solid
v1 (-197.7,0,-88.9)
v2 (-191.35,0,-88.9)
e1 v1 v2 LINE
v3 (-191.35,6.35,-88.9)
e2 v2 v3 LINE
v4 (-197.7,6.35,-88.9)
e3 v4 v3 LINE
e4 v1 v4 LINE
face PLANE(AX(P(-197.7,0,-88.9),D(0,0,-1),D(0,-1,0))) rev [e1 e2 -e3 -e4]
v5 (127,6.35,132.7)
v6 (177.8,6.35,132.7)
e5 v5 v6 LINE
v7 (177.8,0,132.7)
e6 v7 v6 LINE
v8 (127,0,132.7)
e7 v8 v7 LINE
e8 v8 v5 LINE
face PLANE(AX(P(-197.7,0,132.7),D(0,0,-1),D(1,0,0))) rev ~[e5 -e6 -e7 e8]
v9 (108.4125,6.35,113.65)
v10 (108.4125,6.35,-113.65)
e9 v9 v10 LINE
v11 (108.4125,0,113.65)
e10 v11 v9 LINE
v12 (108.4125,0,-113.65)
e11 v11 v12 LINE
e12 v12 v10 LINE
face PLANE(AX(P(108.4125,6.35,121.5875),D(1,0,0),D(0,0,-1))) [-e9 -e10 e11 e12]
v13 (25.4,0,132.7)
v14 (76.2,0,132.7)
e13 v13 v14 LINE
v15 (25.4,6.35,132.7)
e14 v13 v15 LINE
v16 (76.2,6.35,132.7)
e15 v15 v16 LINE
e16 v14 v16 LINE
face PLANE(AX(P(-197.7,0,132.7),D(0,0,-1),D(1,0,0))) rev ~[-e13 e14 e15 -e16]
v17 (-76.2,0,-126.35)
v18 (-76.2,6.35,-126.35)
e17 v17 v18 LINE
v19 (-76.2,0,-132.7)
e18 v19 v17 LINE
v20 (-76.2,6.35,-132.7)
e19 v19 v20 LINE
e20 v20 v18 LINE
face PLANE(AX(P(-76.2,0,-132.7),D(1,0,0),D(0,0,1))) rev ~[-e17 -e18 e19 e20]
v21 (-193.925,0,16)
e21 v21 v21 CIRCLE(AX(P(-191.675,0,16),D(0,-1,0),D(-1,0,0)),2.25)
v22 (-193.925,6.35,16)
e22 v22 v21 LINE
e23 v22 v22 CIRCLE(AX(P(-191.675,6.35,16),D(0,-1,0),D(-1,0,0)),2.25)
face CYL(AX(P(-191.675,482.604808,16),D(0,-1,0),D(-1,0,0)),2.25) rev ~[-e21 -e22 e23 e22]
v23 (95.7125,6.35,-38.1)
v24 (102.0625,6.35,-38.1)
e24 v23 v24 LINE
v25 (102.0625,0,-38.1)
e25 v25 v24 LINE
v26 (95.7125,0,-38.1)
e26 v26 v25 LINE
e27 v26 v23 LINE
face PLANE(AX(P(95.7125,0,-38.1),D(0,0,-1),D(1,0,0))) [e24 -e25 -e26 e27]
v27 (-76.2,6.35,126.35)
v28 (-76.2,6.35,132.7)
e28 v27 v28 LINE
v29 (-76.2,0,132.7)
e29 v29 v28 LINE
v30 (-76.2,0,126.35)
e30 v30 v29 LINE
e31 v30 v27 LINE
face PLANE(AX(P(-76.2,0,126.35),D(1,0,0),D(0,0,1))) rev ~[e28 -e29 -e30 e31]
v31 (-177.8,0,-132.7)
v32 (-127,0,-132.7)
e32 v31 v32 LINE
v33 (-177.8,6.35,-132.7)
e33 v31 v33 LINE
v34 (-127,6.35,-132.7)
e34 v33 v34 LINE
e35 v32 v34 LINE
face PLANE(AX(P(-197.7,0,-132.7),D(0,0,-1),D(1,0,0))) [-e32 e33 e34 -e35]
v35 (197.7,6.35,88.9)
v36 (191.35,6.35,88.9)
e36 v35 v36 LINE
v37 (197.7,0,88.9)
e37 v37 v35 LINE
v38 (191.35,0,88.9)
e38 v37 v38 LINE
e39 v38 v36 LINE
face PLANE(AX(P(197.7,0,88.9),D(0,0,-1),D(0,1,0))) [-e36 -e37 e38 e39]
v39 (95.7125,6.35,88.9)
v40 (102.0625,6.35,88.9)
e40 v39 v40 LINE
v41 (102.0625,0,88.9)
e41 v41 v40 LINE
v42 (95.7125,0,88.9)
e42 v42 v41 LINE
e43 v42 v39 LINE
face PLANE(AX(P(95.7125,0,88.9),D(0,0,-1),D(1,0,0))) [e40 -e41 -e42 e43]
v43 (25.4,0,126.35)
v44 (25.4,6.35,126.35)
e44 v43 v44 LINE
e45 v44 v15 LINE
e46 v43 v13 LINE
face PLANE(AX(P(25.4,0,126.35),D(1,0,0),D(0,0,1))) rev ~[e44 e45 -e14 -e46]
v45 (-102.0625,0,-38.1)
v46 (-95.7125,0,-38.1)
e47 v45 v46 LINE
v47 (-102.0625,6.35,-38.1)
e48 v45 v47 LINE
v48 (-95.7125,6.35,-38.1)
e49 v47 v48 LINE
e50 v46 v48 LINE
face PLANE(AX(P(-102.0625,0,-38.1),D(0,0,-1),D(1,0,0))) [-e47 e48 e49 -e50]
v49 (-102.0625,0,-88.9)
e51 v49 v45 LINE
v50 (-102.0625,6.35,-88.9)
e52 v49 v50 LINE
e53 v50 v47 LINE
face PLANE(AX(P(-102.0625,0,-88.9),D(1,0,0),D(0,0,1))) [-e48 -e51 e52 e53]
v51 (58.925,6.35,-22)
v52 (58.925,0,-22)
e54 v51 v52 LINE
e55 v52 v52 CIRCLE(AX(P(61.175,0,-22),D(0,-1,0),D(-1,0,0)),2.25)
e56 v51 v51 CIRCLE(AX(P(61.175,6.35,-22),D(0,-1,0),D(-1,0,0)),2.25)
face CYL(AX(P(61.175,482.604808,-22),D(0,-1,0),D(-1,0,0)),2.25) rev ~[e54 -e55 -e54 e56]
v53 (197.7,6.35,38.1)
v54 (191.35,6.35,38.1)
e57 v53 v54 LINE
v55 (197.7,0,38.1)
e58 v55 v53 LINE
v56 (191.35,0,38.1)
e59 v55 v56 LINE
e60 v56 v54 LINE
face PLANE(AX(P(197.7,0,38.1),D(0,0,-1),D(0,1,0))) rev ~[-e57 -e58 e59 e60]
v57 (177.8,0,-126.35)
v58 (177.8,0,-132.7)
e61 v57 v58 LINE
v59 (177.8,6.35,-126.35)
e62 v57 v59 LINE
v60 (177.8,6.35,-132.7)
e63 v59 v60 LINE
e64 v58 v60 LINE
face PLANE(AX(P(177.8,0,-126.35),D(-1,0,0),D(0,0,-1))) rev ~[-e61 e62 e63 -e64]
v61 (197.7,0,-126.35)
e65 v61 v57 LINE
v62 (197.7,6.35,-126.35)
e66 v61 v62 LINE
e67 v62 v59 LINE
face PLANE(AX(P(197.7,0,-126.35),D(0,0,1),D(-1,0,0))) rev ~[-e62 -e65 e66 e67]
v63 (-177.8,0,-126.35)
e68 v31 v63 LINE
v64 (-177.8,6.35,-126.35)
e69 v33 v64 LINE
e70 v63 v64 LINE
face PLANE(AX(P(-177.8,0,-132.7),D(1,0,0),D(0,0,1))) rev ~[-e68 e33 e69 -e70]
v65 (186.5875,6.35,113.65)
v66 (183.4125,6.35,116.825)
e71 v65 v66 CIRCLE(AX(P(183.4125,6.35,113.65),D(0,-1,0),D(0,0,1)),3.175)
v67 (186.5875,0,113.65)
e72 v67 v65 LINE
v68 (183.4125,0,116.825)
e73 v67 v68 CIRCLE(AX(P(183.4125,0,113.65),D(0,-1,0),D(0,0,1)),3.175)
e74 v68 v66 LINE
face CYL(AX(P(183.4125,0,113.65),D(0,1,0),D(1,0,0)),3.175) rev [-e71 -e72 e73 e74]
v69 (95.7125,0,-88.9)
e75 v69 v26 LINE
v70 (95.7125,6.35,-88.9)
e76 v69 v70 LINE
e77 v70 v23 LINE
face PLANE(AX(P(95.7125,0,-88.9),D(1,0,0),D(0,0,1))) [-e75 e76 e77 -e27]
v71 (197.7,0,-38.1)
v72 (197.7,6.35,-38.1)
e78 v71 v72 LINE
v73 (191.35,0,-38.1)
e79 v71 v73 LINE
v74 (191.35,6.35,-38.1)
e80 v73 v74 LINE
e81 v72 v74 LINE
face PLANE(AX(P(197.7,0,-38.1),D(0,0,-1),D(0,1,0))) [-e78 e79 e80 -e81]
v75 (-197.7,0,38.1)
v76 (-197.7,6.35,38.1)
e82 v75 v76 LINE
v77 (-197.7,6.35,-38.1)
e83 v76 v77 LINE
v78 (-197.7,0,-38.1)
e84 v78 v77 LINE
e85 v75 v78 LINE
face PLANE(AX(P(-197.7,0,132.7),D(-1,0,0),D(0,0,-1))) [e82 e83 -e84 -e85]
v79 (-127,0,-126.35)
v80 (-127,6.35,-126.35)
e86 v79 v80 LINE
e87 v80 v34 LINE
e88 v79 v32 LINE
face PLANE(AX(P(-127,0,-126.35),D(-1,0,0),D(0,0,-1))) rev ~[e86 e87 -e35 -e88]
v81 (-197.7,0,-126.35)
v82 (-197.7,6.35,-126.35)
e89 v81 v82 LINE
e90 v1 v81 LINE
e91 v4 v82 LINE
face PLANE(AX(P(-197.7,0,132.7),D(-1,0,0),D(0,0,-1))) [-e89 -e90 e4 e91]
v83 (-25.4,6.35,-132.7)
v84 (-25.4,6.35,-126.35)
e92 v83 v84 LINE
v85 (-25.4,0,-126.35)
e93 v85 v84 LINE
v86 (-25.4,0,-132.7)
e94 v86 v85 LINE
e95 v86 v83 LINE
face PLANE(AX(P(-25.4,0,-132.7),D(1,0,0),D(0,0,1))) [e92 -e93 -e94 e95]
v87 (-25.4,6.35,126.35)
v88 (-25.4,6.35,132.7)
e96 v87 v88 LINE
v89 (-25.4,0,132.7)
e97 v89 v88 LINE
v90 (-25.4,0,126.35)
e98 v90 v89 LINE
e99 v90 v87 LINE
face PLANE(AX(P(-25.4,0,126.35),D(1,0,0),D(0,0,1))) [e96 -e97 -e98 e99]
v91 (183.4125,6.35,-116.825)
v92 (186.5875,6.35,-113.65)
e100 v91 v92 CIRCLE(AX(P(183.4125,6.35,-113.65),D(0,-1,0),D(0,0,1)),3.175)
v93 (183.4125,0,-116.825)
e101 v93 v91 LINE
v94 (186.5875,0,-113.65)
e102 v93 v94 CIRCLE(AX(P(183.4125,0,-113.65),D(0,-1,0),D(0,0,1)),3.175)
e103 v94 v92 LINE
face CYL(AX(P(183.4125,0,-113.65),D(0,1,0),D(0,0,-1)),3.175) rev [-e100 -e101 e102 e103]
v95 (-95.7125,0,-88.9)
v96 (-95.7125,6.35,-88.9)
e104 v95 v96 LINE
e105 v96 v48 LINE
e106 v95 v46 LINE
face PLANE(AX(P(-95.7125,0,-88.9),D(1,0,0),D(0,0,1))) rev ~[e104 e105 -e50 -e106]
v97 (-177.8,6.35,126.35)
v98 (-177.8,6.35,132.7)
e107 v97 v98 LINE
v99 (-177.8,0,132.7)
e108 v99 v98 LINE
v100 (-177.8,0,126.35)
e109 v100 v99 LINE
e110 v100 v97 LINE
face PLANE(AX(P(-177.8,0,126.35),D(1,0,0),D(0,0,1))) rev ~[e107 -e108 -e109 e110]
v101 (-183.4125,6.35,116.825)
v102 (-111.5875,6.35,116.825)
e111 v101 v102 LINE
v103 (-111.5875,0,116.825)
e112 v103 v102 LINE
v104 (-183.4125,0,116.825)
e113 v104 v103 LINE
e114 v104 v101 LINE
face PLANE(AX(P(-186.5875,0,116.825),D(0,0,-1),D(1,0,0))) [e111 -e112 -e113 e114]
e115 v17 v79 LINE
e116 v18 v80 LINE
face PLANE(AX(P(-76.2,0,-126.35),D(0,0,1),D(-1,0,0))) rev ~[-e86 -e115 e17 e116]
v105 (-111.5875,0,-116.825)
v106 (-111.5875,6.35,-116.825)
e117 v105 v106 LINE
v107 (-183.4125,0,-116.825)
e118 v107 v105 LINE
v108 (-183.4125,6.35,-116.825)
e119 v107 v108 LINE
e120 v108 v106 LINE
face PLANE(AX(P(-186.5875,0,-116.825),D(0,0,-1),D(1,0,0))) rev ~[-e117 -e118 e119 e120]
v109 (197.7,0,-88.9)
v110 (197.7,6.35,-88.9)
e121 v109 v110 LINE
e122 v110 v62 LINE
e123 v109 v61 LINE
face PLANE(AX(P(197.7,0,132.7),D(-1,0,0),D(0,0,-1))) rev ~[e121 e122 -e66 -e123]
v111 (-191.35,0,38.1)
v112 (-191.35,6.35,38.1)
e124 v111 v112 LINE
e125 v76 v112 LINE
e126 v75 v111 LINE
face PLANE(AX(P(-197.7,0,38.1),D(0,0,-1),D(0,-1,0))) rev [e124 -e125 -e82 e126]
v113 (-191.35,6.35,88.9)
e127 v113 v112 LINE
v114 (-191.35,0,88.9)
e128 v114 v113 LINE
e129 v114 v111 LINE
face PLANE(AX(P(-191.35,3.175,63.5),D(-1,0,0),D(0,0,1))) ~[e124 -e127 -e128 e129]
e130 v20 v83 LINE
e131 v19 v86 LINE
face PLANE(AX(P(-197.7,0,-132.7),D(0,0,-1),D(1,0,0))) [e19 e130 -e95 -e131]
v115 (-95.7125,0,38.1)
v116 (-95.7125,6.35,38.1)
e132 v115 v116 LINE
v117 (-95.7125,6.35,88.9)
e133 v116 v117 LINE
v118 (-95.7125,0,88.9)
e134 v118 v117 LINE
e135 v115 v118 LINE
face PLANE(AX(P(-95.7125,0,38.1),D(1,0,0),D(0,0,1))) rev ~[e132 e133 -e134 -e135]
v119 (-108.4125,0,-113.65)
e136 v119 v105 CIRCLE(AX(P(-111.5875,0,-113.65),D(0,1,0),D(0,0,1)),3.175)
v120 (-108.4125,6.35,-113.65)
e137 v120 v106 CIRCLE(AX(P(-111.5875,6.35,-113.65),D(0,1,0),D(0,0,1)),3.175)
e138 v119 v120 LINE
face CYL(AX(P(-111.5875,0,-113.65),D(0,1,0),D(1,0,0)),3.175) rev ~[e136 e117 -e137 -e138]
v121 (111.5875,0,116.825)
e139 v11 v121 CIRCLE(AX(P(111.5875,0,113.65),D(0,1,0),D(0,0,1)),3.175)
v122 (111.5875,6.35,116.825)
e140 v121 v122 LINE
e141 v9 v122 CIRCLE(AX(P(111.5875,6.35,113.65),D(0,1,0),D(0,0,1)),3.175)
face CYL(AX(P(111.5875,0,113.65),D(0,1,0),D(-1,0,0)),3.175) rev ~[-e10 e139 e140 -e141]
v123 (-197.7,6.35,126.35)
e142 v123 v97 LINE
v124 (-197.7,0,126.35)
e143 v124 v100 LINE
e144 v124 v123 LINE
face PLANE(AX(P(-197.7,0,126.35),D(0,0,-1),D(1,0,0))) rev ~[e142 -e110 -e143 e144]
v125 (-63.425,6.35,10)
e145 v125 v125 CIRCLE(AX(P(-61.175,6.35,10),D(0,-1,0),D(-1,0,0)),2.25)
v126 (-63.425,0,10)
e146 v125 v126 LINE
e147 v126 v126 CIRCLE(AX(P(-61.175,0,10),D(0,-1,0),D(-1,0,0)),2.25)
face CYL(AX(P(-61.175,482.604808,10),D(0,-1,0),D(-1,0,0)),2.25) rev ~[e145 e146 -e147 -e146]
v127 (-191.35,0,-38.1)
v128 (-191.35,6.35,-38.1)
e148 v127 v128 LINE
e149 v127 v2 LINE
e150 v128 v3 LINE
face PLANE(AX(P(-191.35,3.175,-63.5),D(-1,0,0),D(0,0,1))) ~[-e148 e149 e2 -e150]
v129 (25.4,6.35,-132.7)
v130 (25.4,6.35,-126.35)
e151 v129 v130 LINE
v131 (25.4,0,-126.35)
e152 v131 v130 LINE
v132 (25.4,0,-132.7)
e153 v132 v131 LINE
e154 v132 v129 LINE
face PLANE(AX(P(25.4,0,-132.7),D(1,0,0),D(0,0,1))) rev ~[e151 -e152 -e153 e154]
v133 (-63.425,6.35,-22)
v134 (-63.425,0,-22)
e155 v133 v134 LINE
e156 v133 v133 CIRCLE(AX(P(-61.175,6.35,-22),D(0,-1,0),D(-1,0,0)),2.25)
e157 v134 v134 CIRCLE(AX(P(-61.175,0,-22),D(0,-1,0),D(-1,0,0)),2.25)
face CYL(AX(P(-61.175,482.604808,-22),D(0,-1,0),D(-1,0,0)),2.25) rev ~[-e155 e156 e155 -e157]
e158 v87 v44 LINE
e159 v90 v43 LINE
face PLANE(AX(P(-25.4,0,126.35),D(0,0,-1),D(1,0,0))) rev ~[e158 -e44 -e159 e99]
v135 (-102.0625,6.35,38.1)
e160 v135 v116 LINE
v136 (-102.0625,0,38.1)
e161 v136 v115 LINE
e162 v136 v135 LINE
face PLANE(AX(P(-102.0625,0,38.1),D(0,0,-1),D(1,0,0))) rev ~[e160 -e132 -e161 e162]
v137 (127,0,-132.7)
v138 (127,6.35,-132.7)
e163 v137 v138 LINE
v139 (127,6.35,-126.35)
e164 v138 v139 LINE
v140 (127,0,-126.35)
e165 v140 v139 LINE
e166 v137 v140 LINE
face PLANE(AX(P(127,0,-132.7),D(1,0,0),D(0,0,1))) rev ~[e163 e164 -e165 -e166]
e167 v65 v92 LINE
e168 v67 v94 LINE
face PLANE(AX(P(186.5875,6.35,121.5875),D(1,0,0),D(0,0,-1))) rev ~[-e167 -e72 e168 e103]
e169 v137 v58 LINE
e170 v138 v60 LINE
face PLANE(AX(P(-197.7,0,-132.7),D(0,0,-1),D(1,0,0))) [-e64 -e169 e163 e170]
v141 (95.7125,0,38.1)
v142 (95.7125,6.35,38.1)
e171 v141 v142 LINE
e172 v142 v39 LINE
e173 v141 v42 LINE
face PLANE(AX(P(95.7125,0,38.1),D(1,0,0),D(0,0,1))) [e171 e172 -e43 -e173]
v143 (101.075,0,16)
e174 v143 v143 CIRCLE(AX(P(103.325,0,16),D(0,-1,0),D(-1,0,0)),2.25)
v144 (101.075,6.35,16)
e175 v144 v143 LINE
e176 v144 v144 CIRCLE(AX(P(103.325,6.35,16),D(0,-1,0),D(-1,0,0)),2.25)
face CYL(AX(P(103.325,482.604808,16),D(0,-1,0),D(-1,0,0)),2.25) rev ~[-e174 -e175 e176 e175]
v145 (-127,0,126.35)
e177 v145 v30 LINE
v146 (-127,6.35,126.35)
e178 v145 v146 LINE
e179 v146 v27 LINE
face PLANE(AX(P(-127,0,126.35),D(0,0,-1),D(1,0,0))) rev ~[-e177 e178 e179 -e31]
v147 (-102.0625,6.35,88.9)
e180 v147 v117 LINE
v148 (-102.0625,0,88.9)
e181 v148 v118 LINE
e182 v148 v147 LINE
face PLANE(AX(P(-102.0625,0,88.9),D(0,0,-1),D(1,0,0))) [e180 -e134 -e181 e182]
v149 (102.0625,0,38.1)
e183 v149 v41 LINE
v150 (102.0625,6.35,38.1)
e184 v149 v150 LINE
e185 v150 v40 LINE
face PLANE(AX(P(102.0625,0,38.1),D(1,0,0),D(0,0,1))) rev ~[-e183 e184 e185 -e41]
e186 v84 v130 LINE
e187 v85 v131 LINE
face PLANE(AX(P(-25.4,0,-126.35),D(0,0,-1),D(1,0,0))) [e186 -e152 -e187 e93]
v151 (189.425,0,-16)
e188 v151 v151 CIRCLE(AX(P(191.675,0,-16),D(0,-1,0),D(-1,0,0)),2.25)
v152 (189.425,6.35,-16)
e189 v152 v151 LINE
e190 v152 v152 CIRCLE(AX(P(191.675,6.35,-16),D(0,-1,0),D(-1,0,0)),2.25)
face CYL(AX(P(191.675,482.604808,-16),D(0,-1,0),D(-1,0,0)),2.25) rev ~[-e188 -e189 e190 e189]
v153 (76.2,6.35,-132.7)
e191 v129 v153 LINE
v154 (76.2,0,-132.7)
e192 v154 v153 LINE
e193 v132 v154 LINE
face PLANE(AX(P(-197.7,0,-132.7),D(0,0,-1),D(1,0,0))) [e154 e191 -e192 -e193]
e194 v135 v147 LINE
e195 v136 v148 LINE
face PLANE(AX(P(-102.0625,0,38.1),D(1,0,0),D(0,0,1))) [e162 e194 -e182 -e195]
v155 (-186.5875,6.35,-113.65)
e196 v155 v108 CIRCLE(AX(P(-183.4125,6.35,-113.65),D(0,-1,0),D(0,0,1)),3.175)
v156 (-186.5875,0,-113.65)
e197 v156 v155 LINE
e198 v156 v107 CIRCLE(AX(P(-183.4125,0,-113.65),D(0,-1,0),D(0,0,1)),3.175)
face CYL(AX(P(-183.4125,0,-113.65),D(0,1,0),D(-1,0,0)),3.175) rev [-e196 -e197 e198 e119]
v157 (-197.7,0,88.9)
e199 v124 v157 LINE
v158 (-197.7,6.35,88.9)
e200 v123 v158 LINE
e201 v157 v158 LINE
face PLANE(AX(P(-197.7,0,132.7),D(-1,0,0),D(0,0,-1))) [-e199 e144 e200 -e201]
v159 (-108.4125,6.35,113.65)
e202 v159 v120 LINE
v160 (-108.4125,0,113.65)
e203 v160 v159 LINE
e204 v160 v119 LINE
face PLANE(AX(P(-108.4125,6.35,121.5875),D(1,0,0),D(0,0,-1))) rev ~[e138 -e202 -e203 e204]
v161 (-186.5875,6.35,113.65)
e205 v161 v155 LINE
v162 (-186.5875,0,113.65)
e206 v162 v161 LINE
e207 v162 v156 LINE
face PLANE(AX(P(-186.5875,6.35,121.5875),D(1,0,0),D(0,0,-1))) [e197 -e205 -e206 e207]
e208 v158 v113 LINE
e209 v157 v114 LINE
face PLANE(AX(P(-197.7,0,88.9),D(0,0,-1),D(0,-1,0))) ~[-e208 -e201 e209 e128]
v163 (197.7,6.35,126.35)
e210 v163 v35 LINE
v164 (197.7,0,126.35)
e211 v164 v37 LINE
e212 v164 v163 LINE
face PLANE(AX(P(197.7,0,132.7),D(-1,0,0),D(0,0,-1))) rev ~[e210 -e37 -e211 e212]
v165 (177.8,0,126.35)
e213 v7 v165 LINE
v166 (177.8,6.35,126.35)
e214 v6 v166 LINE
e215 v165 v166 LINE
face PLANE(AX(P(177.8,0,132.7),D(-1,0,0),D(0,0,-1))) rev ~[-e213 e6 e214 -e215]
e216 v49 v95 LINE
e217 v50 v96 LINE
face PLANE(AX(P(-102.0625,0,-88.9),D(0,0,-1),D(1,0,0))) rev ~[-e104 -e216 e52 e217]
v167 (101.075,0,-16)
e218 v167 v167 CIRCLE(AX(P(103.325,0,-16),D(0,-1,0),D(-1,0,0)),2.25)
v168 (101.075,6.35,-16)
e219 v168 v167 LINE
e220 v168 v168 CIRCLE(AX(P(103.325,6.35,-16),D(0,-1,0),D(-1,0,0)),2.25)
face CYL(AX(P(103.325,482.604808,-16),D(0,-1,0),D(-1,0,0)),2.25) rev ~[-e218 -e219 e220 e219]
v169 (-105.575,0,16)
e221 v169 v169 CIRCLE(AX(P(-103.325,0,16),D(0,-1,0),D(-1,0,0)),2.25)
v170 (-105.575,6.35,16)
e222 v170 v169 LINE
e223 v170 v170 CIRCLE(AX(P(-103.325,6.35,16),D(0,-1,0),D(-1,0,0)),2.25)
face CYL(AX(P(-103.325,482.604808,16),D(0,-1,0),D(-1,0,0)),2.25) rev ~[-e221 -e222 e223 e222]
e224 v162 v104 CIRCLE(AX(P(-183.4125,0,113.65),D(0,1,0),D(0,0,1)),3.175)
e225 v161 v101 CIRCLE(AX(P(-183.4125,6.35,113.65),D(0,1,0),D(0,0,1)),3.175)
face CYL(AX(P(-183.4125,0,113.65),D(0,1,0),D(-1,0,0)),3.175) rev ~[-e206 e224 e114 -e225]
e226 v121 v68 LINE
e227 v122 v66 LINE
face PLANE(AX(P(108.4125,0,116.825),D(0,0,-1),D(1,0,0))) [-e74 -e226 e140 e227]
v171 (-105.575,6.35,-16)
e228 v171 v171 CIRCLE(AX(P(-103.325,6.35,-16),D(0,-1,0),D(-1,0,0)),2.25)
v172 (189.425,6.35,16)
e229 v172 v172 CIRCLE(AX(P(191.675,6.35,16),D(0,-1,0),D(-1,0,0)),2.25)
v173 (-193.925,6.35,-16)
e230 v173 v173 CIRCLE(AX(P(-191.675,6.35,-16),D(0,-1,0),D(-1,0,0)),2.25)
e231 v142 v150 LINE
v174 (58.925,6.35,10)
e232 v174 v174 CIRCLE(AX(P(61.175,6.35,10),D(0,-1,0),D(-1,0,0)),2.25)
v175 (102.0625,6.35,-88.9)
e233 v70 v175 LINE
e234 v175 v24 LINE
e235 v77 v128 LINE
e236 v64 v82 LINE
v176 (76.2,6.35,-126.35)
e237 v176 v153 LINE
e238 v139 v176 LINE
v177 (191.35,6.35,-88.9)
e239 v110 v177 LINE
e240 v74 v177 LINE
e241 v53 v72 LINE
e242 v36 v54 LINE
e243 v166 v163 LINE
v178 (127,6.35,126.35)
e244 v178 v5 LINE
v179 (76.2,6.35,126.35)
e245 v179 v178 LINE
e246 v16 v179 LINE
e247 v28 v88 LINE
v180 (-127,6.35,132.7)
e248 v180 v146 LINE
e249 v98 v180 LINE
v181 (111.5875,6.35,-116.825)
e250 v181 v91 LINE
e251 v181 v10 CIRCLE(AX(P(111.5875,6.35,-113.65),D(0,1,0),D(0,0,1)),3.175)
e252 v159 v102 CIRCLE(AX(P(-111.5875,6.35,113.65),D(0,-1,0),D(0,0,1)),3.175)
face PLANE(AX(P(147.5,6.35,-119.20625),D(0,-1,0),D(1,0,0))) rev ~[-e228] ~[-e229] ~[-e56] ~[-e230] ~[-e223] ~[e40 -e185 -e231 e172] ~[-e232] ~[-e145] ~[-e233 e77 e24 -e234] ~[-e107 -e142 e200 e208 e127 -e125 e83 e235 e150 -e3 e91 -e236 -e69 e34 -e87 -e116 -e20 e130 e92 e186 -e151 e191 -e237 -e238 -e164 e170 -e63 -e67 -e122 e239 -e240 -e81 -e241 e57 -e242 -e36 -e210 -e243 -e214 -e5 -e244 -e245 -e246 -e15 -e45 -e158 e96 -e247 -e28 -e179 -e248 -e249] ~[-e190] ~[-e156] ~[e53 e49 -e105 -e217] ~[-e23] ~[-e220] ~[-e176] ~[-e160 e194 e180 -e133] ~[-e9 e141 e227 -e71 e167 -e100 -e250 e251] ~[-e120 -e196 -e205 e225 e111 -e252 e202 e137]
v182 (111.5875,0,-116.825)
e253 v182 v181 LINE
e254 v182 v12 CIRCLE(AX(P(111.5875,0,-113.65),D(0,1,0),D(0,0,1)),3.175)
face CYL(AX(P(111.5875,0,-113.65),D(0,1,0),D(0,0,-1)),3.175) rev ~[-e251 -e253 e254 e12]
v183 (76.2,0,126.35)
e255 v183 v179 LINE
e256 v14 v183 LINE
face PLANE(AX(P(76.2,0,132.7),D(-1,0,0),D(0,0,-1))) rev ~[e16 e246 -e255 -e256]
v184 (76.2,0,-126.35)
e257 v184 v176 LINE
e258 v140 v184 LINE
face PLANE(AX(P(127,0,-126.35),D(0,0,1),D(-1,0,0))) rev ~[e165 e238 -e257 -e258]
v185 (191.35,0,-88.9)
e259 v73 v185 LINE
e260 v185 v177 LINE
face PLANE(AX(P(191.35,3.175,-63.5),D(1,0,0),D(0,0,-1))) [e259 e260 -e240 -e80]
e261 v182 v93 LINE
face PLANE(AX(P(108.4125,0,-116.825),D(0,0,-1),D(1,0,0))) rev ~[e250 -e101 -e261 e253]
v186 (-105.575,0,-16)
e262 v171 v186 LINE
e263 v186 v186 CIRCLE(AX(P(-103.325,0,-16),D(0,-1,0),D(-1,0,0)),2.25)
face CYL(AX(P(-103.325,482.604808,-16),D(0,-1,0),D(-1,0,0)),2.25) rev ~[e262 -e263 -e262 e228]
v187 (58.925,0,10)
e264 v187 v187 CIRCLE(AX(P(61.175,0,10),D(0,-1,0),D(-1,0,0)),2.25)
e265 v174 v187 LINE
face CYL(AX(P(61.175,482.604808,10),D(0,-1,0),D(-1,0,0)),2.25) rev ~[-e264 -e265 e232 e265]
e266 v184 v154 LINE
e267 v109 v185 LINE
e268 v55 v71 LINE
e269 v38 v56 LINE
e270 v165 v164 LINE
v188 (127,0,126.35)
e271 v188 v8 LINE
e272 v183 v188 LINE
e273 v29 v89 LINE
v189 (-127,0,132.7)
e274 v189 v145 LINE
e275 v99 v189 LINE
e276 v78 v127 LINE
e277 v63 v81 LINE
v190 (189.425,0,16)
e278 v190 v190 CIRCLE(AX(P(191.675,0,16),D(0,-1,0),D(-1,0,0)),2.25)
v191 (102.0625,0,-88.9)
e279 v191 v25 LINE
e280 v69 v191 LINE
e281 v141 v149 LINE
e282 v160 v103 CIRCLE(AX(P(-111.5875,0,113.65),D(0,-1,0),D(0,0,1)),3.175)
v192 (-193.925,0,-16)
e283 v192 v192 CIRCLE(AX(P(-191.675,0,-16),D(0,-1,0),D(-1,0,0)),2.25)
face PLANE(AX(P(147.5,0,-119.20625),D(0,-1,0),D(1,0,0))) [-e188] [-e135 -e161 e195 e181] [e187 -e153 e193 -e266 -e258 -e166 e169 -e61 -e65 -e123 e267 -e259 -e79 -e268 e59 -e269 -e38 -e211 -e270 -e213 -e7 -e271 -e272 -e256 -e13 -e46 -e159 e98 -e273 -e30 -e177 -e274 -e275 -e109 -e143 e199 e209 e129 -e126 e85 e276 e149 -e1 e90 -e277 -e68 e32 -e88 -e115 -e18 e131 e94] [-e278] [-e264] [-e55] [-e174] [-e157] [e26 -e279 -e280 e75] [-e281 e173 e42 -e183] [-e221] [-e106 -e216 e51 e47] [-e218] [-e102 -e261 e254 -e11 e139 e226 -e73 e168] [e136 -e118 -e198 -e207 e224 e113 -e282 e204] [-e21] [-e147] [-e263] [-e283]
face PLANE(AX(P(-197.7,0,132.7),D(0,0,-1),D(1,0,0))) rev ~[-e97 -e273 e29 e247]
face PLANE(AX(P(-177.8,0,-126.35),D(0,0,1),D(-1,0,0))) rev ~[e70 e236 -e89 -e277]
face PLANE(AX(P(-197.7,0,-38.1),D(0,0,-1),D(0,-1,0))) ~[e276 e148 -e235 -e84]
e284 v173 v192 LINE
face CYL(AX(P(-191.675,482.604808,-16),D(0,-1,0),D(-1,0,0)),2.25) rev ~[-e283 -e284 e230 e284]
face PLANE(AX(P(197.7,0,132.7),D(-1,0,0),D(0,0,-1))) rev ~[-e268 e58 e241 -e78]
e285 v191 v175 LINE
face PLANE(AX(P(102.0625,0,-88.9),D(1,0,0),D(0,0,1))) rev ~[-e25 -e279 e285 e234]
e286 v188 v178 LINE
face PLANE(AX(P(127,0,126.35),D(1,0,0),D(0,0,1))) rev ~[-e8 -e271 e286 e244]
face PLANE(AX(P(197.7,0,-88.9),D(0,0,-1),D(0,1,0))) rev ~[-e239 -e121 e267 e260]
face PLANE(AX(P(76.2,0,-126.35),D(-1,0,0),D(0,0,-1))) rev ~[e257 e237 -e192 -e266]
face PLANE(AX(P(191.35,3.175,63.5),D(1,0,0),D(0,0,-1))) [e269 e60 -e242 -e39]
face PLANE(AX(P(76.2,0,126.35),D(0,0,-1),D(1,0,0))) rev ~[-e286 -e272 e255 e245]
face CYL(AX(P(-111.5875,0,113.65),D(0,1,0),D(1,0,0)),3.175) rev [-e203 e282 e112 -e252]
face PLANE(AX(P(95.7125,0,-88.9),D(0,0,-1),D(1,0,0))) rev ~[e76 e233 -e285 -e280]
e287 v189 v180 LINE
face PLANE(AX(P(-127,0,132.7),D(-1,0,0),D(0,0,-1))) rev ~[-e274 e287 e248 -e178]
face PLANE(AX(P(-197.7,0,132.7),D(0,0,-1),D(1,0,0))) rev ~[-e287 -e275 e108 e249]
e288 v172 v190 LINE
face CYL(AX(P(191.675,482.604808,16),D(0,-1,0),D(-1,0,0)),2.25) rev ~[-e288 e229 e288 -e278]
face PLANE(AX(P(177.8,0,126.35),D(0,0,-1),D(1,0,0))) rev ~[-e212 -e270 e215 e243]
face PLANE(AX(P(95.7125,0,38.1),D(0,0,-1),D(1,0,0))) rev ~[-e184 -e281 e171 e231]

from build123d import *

# Parameters (mm, degrees)
SKETCH5_W             = 395.4
SKETCH5_H             = 265.4
BOSS_EXTRUDE3_DEPTH   = 6.35
SKETCH6_W             = 78.175
SKETCH6_H             = 243.175
SKETCH6_W_2           = 75
SKETCH6_H_2           = 240
CUT_EXTRUDE1_DEPTH    = 6.35
F_4_0MM_DOWEL_HOLE1_D = 4.5
SKETCH10_W            = 6.35
SKETCH10_H            = 50.8
SKETCH10_W_2          = 50.8
SKETCH10_H_2          = 6.35
CUT_EXTRUDE2_DEPTH    = 6.35
SKETCH11_W            = 50.8
SKETCH11_H            = 6.35
CUT_EXTRUDE3_DEPTH    = 6.35
SKETCH12_W            = 78.175
SKETCH12_H            = 4.7625
BOSS_EXTRUDE4_DEPTH   = 6.35
FILLET1_R             = 3.175


with BuildPart() as part:
    # Sketch5 → Boss-Extrude3 (new body)
    with BuildSketch(Plane(origin=(0, 0, 0), x_dir=(1, 0, 0), z_dir=(0, 1, 0))):
        Rectangle(SKETCH5_W, SKETCH5_H)
    extrude(amount=BOSS_EXTRUDE3_DEPTH)

    # Sketch6 → Cut-Extrude1 (cut)
    # profile 1 of 4: a face of its own
    with BuildSketch(Plane(origin=(0, 6.35, 0), x_dir=(1, 0, 0), z_dir=(0, 1, 0))):
        with Locations((147.5, 0)):
            Rectangle(SKETCH6_W, SKETCH6_H)
        with Locations((147.5, 0)):
            Rectangle(SKETCH6_W_2, SKETCH6_H_2, mode=Mode.SUBTRACT)
    # profile 2 of 4: a face of its own
    with BuildSketch(Plane(origin=(0, 6.35, 0), x_dir=(1, 0, 0), z_dir=(0, 1, 0))):
        with Locations((147.5, 0)):
            Rectangle(SKETCH6_W_2, SKETCH6_H_2)
    # profile 3 of 4: a face of its own
    with BuildSketch(Plane(origin=(0, 6.35, 0), x_dir=(1, 0, 0), z_dir=(0, 1, 0))):
        with Locations((-147.5, 0)):
            Rectangle(SKETCH6_W, SKETCH6_H)
        with Locations((-147.5, 0)):
            Rectangle(SKETCH6_W_2, SKETCH6_H_2, mode=Mode.SUBTRACT)
    # profile 4 of 4: a face of its own
    with BuildSketch(Plane(origin=(0, 6.35, 0), x_dir=(1, 0, 0), z_dir=(0, 1, 0))):
        with Locations((-147.5, 0)):
            Rectangle(SKETCH6_W_2, SKETCH6_H_2)
    extrude(amount=-CUT_EXTRUDE1_DEPTH, mode=Mode.SUBTRACT)

    # Ø4.0mm Dowel Hole1 (through all)
    with Locations(Plane(origin=(0, 6.35, 0), x_dir=(1, 0, 0), z_dir=(0, 1, 0))):
        with Locations((191.675, -16), (191.675, 16), (103.325, -16), (103.325, 16), (-191.675, -16), (-191.675, 16), (-103.325, -16), (-103.325, 16), (-61.175, -10), (-61.175, 22), (61.175, 22), (61.175, -10)):
            Hole(F_4_0MM_DOWEL_HOLE1_D / 2)

    # Sketch10 → Cut-Extrude2 (cut)
    with BuildSketch(Plane.XZ):
        with Locations((98.8875, -63.5)):
            Rectangle(SKETCH10_W, SKETCH10_H)
        with Locations((98.8875, 63.5)):
            Rectangle(SKETCH10_W, SKETCH10_H)
        with Locations((-98.8875, 63.5)):
            Rectangle(SKETCH10_W, SKETCH10_H)
        with Locations((-98.8875, -63.5)):
            Rectangle(SKETCH10_W, SKETCH10_H)
        Polygon((197.7, 132.7), (177.8, 132.7), (177.8, 126.35), (191.35, 126.35), (197.7, 126.35), align=None)
        Polygon((127, 132.7), (76.2, 132.7), (76.2, 126.35), (95.7125, 126.35), (102.0625, 126.35), (108.4125, 126.35), (127, 126.35), align=None)
        with Locations((0, 129.525)):
            Rectangle(SKETCH10_W_2, SKETCH10_H_2)
        Polygon((-127, 132.7), (-127, 126.35), (-108.4125, 126.35), (-102.0625, 126.35), (-95.7125, 126.35), (-76.2, 126.35), (-76.2, 132.7), align=None)
        Polygon((-197.7, 126.35), (-191.35, 126.35), (-177.8, 126.35), (-177.8, 132.7), (-197.7, 132.7), align=None)
        Polygon((-177.8, -126.35), (-191.35, -126.35), (-197.7, -126.35), (-197.7, -132.7), (-177.8, -132.7), align=None)
        Polygon((-108.4125, -126.35), (-127, -126.35), (-127, -132.7), (-76.2, -132.7), (-76.2, -126.35), (-95.7125, -126.35), (-102.0625, -126.35), align=None)
        with Locations((0, -129.525)):
            Rectangle(SKETCH10_W_2, SKETCH10_H_2)
        Polygon((76.2, -126.35), (76.2, -132.7), (127, -132.7), (127, -126.35), (108.4125, -126.35), (102.0625, -126.35), (95.7125, -126.35), align=None)
        Polygon((177.8, -126.35), (177.8, -132.7), (197.7, -132.7), (197.7, -126.35), (191.35, -126.35), align=None)
    extrude(amount=-CUT_EXTRUDE2_DEPTH, mode=Mode.SUBTRACT)

    # Sketch11 → Cut-Extrude3 (cut)
    with BuildSketch(Plane(origin=(197.7, 0, 0), x_dir=(0, 0, -1), z_dir=(1, 0, 0))):
        with Locations((-63.5, 3.175)):
            Rectangle(SKETCH11_W, SKETCH11_H)
        with Locations((63.5, 3.175)):
            Rectangle(SKETCH11_W, SKETCH11_H)
    cut_extrude3 = extrude(amount=-CUT_EXTRUDE3_DEPTH, mode=Mode.SUBTRACT)

    # Mirror1: Cut-Extrude3 across plane
    add(cut_extrude3.mirror(Plane(origin=(0, 0, 0), x_dir=(0, 0, 1), z_dir=(1, 0, 0))), mode=Mode.SUBTRACT)

    # Sketch12 → Boss-Extrude4 (add)
    with BuildSketch(Plane.XZ):
        with Locations((147.5, -119.20625)):
            Rectangle(SKETCH12_W, SKETCH12_H)
        with Locations((147.5, 119.20625)):
            Rectangle(SKETCH12_W, SKETCH12_H)
        with Locations((-147.5, 119.20625)):
            Rectangle(SKETCH12_W, SKETCH12_H)
        with Locations((-147.5, -119.20625)):
            Rectangle(SKETCH12_W, SKETCH12_H)
    extrude(amount=-BOSS_EXTRUDE4_DEPTH)

    # Fillet1
    fillet1_edges = [part.edges().sort_by_distance(p)[0] for p in [
        (108.4125, 3.175, -116.825),
        (186.5875, 3.175, -116.825),
        (186.5875, 3.175, 116.825),
        (108.4125, 3.175, 116.825),
        (-186.5875, 3.175, 116.825),
        (-108.4125, 3.175, 116.825),
        (-108.4125, 3.175, -116.825),
        (-186.5875, 3.175, -116.825),
    ]]
    fillet(fillet1_edges, radius=FILLET1_R)


solid = part.part
